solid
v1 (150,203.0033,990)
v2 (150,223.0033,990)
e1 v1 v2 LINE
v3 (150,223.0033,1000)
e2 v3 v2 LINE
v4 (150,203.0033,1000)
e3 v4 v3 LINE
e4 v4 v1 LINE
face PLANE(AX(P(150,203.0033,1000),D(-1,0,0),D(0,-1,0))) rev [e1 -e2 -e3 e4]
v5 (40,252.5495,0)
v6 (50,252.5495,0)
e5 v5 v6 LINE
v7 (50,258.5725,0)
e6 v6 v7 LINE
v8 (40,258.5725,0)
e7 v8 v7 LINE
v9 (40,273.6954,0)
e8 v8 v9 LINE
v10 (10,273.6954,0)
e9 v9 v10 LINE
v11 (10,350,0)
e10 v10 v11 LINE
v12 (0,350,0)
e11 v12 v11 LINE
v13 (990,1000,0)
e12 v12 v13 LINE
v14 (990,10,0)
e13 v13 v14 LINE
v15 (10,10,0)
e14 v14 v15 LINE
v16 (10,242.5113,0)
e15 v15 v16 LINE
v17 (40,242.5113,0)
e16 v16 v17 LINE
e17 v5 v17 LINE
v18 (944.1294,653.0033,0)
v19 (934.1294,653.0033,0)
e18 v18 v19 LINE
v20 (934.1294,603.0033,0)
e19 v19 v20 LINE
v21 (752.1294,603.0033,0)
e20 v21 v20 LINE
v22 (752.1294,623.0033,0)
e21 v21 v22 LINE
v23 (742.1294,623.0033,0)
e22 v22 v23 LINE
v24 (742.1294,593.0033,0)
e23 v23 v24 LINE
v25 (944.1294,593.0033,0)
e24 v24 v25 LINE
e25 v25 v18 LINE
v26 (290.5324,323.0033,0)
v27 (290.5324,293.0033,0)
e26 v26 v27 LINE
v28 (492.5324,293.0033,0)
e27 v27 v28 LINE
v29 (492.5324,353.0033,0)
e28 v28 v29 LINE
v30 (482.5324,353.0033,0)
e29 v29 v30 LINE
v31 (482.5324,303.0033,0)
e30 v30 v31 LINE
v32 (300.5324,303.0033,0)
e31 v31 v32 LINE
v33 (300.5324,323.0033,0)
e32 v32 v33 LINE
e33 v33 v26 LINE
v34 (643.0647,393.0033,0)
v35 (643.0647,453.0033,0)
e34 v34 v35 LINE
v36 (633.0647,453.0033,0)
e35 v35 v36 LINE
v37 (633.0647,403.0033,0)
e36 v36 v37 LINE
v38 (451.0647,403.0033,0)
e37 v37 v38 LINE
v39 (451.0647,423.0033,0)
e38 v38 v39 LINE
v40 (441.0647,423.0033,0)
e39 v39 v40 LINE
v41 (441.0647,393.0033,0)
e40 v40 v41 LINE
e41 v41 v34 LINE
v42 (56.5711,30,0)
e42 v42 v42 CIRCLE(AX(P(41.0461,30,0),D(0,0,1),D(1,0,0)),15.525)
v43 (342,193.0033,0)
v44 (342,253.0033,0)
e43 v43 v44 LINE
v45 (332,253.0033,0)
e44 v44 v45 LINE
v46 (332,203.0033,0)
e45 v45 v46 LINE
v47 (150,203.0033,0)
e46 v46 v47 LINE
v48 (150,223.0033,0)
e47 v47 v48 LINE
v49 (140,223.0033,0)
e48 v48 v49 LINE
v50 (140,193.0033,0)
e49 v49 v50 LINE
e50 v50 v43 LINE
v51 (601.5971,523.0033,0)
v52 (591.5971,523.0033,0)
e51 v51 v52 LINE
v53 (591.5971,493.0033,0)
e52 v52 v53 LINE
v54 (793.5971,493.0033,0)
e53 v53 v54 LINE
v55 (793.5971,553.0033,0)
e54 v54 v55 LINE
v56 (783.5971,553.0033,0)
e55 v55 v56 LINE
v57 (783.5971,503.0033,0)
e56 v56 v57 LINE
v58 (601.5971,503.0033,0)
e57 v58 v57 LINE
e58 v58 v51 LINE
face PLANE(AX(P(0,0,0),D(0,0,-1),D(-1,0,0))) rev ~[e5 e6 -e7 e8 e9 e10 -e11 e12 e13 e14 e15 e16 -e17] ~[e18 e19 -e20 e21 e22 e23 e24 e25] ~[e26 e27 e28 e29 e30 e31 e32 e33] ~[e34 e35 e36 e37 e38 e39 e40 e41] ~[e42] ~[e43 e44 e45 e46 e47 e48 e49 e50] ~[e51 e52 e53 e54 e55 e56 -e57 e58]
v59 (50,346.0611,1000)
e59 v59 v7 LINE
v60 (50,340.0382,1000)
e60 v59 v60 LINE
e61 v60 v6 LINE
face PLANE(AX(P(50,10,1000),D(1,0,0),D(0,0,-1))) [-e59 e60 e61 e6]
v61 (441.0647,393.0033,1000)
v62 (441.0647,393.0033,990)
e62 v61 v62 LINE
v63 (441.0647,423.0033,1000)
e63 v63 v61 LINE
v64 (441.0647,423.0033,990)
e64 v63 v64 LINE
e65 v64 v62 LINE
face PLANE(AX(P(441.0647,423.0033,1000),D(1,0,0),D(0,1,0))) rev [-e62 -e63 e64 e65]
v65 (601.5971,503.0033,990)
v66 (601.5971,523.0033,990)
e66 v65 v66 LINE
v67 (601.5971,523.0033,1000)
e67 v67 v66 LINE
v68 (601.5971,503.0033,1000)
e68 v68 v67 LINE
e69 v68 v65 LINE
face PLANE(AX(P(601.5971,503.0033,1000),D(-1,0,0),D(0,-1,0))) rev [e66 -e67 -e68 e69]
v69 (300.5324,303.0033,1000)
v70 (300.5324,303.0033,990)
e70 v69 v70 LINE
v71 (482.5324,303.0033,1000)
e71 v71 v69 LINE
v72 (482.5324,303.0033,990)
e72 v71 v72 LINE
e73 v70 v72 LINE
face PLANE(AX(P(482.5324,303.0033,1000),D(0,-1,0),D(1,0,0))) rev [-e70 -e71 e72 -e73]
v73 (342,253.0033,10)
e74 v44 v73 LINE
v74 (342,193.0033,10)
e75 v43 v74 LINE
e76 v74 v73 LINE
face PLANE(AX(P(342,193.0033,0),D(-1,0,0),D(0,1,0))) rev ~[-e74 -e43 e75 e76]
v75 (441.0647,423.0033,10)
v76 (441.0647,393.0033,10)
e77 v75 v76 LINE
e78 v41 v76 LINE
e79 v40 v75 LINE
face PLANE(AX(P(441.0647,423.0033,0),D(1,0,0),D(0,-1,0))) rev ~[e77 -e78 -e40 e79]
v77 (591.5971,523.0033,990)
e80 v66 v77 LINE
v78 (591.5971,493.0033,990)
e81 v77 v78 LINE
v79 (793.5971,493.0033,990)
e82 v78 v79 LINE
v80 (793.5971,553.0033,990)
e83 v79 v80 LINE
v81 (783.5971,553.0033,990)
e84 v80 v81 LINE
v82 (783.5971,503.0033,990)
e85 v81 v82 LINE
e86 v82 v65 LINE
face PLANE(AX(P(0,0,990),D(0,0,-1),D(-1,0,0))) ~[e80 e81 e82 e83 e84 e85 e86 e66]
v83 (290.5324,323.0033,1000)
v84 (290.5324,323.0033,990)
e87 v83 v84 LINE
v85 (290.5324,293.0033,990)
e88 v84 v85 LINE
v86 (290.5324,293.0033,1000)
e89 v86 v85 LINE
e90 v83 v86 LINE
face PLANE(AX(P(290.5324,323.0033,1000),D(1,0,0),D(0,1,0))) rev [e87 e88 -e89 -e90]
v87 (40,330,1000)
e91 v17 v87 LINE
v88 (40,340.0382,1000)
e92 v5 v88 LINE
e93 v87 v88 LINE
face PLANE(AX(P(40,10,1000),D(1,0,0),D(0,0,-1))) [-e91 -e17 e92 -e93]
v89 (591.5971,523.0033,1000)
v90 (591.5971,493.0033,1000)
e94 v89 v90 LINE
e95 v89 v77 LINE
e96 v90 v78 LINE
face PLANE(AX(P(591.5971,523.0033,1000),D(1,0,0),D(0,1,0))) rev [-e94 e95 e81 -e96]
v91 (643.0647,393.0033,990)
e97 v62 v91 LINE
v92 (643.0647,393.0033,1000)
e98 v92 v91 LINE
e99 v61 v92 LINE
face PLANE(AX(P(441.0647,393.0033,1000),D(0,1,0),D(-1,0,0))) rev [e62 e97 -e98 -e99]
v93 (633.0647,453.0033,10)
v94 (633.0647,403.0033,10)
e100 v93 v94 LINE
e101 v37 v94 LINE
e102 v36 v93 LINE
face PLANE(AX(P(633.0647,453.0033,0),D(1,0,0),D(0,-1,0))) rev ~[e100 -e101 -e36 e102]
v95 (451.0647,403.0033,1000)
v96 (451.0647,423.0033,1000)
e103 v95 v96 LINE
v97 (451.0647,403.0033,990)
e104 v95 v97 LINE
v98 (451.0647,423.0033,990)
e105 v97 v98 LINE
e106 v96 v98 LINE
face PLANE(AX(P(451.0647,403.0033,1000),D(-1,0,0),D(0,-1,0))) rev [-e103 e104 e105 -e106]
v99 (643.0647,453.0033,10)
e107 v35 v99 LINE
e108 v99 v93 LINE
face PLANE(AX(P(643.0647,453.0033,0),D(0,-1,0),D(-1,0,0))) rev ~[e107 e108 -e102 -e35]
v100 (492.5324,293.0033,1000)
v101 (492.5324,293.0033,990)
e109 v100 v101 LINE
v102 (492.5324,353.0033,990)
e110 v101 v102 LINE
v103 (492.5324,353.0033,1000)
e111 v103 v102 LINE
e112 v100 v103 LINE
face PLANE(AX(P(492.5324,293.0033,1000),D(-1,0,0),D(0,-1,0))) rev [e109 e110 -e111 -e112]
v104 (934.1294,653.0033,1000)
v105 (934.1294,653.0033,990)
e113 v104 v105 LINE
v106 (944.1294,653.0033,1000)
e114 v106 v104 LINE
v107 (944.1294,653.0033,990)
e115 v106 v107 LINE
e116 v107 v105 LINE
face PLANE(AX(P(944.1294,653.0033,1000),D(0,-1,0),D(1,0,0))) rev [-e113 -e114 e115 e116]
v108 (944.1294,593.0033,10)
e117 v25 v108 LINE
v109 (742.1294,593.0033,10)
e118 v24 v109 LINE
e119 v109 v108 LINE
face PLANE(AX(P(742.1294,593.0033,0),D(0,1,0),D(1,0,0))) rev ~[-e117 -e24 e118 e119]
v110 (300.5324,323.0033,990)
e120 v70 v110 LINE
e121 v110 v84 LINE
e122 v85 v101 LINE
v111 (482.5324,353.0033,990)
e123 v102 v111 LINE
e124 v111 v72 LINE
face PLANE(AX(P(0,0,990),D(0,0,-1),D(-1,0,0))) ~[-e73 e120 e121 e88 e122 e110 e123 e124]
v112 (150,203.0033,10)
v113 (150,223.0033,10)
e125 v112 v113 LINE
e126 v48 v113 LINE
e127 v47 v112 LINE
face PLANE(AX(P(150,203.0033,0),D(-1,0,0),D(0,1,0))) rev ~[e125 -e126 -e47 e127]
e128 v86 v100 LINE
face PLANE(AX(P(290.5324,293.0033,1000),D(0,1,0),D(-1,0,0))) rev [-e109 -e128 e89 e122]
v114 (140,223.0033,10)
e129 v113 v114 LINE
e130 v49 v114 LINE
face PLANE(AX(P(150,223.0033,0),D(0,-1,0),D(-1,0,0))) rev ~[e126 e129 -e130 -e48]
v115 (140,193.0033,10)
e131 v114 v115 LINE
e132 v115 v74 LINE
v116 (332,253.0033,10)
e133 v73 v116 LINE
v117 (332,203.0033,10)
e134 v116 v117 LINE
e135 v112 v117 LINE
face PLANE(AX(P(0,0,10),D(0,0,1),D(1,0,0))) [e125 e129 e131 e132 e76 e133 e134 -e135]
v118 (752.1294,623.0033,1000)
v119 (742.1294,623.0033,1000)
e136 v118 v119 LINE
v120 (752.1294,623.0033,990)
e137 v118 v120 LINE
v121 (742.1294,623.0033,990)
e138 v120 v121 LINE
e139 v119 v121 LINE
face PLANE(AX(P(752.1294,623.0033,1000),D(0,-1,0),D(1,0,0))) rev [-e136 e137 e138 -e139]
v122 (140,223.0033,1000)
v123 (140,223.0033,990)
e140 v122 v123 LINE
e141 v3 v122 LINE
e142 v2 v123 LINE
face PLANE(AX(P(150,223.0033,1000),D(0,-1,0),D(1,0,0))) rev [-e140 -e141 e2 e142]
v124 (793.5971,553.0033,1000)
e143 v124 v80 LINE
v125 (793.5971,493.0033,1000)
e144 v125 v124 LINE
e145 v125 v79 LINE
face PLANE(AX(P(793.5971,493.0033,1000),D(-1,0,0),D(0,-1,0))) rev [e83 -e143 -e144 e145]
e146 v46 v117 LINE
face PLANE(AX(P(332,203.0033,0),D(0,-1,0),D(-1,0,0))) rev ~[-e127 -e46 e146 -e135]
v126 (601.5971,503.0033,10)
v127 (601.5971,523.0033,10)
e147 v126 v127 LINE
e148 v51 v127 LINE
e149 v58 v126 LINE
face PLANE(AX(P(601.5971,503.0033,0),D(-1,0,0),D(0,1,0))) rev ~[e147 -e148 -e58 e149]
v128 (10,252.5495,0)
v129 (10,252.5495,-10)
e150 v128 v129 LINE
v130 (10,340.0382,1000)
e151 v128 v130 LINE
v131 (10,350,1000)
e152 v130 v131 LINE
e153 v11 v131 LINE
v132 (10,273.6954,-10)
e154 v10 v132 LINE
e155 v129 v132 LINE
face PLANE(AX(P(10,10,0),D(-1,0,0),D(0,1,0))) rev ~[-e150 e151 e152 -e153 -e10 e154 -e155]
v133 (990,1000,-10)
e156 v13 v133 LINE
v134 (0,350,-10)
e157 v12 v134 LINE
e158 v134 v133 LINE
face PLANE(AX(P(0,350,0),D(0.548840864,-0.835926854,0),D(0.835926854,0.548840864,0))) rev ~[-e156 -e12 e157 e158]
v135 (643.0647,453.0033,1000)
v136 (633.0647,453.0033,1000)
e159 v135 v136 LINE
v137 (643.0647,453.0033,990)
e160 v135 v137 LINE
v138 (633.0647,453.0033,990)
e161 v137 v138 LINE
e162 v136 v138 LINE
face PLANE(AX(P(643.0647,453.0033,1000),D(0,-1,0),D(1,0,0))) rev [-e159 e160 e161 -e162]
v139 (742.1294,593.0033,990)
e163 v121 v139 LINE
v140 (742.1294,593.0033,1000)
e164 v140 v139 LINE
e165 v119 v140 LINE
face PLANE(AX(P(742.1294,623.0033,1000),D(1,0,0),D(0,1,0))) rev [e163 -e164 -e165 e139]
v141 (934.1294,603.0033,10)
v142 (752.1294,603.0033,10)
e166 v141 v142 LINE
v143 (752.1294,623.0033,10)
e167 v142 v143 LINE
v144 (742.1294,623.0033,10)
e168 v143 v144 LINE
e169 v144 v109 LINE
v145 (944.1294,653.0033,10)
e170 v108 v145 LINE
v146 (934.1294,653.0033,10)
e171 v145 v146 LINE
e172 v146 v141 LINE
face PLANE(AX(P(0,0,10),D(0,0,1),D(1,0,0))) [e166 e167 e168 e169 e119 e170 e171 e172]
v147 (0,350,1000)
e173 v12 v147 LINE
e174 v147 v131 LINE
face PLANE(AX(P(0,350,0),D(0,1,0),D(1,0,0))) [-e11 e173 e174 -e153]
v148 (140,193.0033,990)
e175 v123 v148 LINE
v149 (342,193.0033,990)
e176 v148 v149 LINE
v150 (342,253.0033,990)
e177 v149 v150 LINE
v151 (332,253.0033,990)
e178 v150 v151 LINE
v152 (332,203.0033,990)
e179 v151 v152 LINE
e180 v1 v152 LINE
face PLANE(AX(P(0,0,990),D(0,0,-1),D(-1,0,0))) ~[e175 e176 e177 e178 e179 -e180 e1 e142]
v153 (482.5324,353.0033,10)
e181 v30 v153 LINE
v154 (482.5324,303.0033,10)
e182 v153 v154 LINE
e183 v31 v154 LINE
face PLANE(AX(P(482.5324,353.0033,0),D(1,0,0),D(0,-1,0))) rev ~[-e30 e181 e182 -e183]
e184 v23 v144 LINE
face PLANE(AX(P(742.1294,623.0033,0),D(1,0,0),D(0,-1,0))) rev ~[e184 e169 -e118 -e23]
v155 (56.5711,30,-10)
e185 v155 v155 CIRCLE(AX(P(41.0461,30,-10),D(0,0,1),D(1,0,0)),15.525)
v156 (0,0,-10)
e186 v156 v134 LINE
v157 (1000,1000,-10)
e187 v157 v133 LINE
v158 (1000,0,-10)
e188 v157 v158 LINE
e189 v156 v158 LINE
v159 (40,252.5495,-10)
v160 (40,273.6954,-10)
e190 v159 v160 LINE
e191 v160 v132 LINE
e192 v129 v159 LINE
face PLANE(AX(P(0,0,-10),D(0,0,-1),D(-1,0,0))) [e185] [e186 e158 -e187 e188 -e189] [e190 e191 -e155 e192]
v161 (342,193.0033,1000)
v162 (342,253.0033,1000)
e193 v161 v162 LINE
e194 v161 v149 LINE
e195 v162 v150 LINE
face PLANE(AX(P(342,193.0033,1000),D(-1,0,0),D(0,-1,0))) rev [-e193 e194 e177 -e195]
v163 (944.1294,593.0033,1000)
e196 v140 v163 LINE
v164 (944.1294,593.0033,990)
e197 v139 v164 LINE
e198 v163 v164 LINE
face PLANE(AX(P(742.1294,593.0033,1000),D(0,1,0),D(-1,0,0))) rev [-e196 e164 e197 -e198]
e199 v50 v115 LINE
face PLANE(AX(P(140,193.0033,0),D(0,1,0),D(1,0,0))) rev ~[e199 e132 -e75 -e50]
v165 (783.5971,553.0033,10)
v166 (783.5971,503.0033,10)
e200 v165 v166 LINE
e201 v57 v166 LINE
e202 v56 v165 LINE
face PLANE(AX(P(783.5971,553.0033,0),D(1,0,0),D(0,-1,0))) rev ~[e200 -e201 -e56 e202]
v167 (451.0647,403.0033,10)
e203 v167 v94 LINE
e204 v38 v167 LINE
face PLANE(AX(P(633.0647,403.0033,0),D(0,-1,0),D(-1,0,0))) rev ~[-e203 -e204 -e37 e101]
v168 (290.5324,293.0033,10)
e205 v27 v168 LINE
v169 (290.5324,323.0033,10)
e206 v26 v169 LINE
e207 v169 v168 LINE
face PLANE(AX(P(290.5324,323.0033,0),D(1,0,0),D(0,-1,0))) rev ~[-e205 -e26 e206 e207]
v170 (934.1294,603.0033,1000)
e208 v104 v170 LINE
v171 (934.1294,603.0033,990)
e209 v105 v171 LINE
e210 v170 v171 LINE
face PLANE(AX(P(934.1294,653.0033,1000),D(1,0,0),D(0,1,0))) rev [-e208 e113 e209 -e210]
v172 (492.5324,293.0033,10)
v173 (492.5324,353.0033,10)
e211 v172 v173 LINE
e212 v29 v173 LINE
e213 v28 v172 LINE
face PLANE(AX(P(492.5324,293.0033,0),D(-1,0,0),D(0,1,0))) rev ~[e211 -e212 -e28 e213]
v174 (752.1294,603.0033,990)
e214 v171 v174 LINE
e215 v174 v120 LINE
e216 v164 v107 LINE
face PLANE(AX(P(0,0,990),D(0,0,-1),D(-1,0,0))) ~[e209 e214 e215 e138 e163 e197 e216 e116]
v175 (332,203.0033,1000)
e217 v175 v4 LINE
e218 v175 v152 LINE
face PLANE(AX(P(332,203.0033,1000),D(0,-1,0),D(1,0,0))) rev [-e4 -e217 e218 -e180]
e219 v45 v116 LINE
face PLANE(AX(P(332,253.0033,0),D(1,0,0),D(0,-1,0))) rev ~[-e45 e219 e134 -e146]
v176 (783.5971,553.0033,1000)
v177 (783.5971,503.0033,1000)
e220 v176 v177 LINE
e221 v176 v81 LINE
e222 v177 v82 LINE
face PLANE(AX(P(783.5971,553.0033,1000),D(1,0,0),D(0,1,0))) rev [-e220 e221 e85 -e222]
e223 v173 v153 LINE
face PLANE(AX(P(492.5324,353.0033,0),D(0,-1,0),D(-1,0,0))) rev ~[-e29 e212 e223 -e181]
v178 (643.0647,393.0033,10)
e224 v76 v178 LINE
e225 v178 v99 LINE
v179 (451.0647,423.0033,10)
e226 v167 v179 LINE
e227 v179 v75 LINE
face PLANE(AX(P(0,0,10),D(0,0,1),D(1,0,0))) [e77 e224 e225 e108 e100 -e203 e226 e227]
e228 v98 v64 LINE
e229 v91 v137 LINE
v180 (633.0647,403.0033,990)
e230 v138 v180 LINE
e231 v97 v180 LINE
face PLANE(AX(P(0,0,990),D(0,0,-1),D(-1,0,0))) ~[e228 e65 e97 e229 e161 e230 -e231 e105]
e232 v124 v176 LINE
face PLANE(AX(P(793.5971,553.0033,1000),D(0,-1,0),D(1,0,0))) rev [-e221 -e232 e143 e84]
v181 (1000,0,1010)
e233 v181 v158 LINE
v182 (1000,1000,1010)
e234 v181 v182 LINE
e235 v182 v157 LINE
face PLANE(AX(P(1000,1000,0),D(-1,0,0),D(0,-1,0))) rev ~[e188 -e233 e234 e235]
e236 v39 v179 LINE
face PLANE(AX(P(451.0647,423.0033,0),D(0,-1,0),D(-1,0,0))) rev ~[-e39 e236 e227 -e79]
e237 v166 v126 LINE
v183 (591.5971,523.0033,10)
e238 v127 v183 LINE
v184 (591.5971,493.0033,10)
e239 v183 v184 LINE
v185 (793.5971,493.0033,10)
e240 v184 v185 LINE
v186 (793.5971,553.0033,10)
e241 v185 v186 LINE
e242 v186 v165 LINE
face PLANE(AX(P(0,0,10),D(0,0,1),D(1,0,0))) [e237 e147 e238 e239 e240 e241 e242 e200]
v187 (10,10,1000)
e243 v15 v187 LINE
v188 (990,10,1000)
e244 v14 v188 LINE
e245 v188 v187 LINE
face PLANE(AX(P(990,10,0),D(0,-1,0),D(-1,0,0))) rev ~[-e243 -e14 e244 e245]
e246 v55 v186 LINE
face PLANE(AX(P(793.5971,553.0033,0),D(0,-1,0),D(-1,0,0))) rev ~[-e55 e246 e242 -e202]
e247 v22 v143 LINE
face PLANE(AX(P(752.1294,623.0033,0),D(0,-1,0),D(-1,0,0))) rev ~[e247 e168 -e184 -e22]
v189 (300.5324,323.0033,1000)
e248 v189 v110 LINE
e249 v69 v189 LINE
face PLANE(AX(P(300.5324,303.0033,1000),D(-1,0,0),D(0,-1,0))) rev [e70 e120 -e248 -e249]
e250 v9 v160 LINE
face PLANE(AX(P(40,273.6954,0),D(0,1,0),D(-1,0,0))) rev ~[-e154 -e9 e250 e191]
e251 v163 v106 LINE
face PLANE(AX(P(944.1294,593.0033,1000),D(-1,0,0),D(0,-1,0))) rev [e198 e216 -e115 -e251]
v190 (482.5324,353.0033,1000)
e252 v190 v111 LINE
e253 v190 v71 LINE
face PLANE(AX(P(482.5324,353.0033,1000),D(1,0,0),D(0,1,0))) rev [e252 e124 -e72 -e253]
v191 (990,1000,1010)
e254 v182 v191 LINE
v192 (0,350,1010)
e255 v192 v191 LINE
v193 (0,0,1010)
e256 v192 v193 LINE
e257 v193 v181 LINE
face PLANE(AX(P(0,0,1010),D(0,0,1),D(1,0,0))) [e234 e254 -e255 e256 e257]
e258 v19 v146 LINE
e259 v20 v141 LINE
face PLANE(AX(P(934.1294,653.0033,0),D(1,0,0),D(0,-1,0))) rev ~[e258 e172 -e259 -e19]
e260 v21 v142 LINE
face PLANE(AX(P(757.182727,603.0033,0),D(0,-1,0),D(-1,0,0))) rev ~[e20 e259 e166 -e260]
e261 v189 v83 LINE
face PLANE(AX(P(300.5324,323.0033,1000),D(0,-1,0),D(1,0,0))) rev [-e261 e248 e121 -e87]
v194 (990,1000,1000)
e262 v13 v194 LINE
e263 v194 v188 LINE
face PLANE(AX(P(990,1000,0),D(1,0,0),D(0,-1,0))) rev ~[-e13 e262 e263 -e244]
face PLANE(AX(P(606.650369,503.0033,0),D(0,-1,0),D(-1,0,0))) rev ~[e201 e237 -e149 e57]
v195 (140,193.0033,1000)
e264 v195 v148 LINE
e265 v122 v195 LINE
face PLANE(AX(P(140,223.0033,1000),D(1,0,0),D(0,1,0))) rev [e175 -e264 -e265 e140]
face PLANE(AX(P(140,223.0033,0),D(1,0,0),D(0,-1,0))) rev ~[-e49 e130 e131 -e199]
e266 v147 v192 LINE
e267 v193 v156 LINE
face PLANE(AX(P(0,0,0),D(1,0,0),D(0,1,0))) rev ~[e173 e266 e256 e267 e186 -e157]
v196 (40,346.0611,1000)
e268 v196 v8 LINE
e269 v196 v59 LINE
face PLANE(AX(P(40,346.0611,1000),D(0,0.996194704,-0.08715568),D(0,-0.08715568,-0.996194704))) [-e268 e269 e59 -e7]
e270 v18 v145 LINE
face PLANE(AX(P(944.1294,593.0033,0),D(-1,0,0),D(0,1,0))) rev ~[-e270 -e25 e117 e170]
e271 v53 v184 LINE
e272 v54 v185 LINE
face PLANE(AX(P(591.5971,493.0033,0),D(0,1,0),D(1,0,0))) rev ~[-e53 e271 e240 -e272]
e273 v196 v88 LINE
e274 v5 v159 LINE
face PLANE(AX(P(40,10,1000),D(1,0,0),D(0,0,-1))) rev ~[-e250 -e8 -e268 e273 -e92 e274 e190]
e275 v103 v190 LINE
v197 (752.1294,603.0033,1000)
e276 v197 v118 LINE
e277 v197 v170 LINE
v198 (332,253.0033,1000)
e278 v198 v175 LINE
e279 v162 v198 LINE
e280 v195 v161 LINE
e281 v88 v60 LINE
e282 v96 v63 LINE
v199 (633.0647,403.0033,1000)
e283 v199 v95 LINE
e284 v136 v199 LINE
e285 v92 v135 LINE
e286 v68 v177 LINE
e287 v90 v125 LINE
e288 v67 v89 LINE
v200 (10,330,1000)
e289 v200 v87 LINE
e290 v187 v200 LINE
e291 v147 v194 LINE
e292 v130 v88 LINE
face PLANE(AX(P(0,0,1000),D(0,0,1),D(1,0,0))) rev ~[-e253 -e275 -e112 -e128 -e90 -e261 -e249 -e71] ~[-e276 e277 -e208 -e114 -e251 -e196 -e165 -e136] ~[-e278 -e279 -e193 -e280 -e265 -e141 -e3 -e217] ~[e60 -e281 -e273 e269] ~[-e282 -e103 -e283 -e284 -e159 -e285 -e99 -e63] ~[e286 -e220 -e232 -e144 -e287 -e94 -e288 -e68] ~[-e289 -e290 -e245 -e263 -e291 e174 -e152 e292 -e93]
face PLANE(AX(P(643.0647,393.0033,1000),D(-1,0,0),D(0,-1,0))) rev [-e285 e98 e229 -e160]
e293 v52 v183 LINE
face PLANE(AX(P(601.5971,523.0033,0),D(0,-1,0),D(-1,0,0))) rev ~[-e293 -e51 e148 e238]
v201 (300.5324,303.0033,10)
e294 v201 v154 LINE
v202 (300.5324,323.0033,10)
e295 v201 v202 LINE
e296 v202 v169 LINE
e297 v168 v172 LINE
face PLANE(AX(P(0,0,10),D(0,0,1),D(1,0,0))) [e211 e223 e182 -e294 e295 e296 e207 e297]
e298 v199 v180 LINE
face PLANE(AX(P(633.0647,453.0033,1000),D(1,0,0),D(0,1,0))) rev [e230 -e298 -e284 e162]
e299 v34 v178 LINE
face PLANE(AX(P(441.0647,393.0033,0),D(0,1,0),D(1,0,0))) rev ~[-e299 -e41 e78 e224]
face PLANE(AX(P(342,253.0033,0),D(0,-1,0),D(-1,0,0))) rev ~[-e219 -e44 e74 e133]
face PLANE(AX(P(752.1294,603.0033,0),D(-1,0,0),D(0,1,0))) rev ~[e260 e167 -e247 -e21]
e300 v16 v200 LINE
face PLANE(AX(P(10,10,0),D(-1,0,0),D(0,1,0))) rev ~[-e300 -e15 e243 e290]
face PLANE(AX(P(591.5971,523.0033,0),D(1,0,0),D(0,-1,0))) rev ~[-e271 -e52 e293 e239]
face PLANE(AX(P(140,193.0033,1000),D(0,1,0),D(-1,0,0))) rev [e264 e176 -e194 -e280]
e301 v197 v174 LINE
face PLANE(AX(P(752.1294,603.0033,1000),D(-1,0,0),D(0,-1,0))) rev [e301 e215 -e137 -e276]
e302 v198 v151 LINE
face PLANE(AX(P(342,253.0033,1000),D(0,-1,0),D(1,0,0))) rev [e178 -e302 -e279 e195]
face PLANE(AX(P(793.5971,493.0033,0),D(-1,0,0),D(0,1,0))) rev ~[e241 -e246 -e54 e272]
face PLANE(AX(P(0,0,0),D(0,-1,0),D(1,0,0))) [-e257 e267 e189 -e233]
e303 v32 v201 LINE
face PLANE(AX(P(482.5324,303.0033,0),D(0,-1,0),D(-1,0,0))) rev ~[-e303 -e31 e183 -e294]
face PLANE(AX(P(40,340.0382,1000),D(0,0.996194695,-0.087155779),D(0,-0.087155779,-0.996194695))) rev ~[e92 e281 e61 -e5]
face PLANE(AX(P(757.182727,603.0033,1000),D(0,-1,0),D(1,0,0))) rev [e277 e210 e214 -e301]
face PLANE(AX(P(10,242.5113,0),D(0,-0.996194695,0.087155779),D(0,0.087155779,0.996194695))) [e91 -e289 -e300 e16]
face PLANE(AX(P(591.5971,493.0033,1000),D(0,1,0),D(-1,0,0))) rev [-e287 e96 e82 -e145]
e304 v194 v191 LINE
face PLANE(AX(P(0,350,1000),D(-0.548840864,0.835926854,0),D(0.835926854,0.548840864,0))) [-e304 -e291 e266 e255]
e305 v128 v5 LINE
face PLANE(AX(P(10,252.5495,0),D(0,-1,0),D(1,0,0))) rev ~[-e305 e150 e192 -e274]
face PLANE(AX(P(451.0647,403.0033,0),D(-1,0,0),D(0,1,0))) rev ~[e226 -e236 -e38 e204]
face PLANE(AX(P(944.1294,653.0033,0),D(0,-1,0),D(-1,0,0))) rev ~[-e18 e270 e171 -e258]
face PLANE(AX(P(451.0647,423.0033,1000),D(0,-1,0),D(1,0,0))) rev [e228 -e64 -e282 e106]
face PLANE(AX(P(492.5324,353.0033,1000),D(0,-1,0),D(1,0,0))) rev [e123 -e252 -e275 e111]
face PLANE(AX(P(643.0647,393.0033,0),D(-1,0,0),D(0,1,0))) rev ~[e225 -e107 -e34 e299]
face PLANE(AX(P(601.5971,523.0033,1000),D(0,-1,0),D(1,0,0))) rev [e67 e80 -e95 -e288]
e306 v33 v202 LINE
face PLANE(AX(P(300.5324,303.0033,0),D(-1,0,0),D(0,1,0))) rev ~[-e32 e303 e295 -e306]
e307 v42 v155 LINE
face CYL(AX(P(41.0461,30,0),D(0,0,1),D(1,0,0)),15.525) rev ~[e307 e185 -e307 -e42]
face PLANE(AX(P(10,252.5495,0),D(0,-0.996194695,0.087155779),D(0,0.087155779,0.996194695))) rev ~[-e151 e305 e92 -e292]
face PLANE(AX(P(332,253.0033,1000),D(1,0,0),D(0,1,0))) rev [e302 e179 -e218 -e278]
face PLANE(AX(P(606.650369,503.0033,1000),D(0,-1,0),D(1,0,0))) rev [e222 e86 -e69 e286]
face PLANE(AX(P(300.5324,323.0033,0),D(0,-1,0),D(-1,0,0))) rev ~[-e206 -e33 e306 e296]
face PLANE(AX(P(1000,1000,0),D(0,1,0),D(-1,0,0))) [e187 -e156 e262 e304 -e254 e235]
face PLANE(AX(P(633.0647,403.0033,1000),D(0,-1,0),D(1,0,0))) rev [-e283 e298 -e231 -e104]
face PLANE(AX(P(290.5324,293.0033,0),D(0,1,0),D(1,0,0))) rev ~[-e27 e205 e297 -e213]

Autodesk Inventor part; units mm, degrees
ref_plane "YZ Plane" through (0, 0, 0) normal (1, 0, 0) x (0, 1, 0)
ref_plane "XZ Plane" through (0, 0, 0) normal (0, 1, 0) x (-1, 0, 0)
sketch "Esboço1" plane through (0, 0, 0) normal (0, 0, 1) x (1, 0, 0)
  line L0 (0, 0) -> (1000, 0)
  line L1 (1000, 0) -> (1000, 1000)
  line L2 (0, 0) -> (0, 350)
  line L3 (990, 1000) -> (990, 10)
  line L4 (990, 10) -> (10, 10)
  line L5 (10, 10) -> (10, 350)
  line L6 (0, 350) -> (10, 350)
  line L7 (990, 1000) -> (1000, 1000)
  line L8 (0, 350) -> (10, 350)
  line L9 (990, 1000) -> (1000, 1000)
  dimension "d6" = 1000
  dimension "d7" = 1000
  dimension "d8" = 350
  dimension "d10" = 10
extrude "Extrusão1" add sketch "Esboço1" along normal blind 1000
sketch "Esboço2" plane through (0, 0, 1000) normal (0, 0, 1) x (1, 0, 0)
  line L0 (10, 10) -> (10, 350) projected
  line L1 (0, 350) -> (0, 0) projected
  line L2 (1000, 1000) -> (990, 1000) projected
  line L3 (0, 350) -> (990, 1000)
  line L4 (0, 0) -> (1000, 0) projected
  line L5 (1000, 0) -> (1000, 1000) projected
  line L6 (0, 350) -> (0, 0)
  line L7 (1000, 0) -> (1000, 1000)
  line L8 (990, 1000) -> (1000, 1000)
extrude "Extrusão2" add sketch "Esboço2" along normal blind 10
sketch "Esboço3" plane through (0, 0, 0) normal (0, 0, -1) x (-1, 0, 0)
  line L0 (-10, 350) -> (0, 350) projected
  line L1 (-1000, 1000) -> (-990, 1000) projected
  line L2 (0, 350) -> (-990, 1000)
  line L3 (-990, 1000) -> (-1000, 1000)
  line L4 (-1000, 1000) -> (-1000, 0)
  line L5 (0, 0) -> (-1000, 0) projected
  line L6 (-1000, 0) -> (0, 0)
  line L7 (0, 0) -> (0, 350)
extrude "Extrusão3" add sketch "Esboço3" along normal blind 10
sketch "Esboço4" plane through (10, 10, 1000) normal (1, 0, 0) x (0, 0, -1)
  line L0 (1000, 990) -> (1000, 0) projected
  line L1 (1000, 232.5113) -> (0, 320)
  line L2 (0, 0) -> (0, 340) projected
  line L3 (0, 340) -> (-10, 340) projected
  line L4 (1000, 242.5495) -> (0, 330.0382)
  line L5 (1000, 232.5113) -> (1000, 242.5495)
  line L6 (1000, 0) -> (1000, 340) projected
  line L7 (0, 330.0382) -> (0, 320)
  point P0 (1000, -10)
  dimension "d11" = 85
  dimension "d13" = 20
  dimension "d14" = 10
extrude "Extrusão4" add sketch "Esboço4" along normal blind 30
sketch "Esboço5" plane through (40, 10, 1000) normal (1, 0, 0) x (0, 0, -1)
  line L0 (1000, 232.5113) -> (0, 320) projected
  line L1 (1000, 232.5113) -> (0, 320)
  line L2 (0, 336.0611) -> (1000, 248.5725)
  line L3 (1000, 242.5495) -> (1000, 340) projected
  line L4 (1000, 248.5725) -> (1000, 242.5495)
  line L5 (0, 336.0611) -> (0, 320)
  line L6 (0, 330.0382) -> (0, 340) projected
  line L7 (1000, 0) -> (1000, 232.5113) projected
  line L8 (1000, 232.5113) -> (0, 320)
  line L9 (0, 330.0382) -> (1000, 242.5495) projected
  point P0 (1000, -10)
  dimension "d18" = 6
extrude "Extrusão5" add sketch "Esboço5" along normal blind 10
sketch "Esboço6" plane through (0, 0, 0) normal (0, 0, 1) x (1, 0, 0)
  line L0 (10, 252.5495) -> (10, 350) projected
  line L1 (10, 252.5495) -> (40, 252.5495)
  line L2 (40, 252.5495) -> (40, 273.6954)
  line L3 (40, 273.6954) -> (10, 273.6954)
  line L4 (10, 273.6954) -> (10, 252.5495)
  point P0 (0, 0)
extrude "Extrusão6" cut sketch "Esboço6" against normal blind 10
sketch "Esboço7" plane through (0, 0, 0) normal (0, 0, 1) x (1, 0, 0)
  line L0 (0, 350) -> (990, 1000) projected
  line L1 (591.5971, 523.0033) -> (591.5971, 493.0033)
  line L2 (591.5971, 493.0033) -> (793.5971, 493.0033)
  line L3 (793.5971, 493.0033) -> (793.5971, 553.0033)
  line L4 (793.5971, 553.0033) -> (783.5971, 553.0033)
  line L5 (783.5971, 553.0033) -> (783.5971, 503.0033)
  line L6 (783.5971, 503.0033) -> (601.5971, 503.0033)
  line L7 (601.5971, 503.0033) -> (601.5971, 523.0033)
  line L8 (601.5971, 523.0033) -> (591.5971, 523.0033)
  line L9 (0, 0) -> (0, 350) projected
  line L10 (441.0647, 423.0033) -> (441.0647, 393.0033)
  line L11 (441.0647, 393.0033) -> (643.0647, 393.0033)
  line L12 (643.0647, 393.0033) -> (643.0647, 453.0033)
  line L13 (643.0647, 453.0033) -> (633.0647, 453.0033)
  line L14 (633.0647, 453.0033) -> (633.0647, 403.0033)
  line L15 (633.0647, 403.0033) -> (451.0647, 403.0033)
  line L16 (451.0647, 403.0033) -> (451.0647, 423.0033)
  line L17 (451.0647, 423.0033) -> (441.0647, 423.0033)
  line L18 (290.5324, 323.0033) -> (290.5324, 293.0033)
  line L19 (290.5324, 293.0033) -> (492.5324, 293.0033)
  line L20 (492.5324, 293.0033) -> (492.5324, 353.0033)
  line L21 (492.5324, 353.0033) -> (482.5324, 353.0033)
  line L22 (482.5324, 353.0033) -> (482.5324, 303.0033)
  line L23 (482.5324, 303.0033) -> (300.5324, 303.0033)
  line L24 (300.5324, 303.0033) -> (300.5324, 323.0033)
  line L25 (300.5324, 323.0033) -> (290.5324, 323.0033)
  line L26 (140, 223.0033) -> (140, 193.0033)
  line L27 (140, 193.0033) -> (342, 193.0033)
  line L28 (342, 193.0033) -> (342, 253.0033)
  line L29 (342, 253.0033) -> (332, 253.0033)
  line L30 (332, 253.0033) -> (332, 203.0033)
  line L31 (332, 203.0033) -> (150, 203.0033)
  line L32 (150, 203.0033) -> (150, 223.0033)
  line L33 (150, 223.0033) -> (140, 223.0033)
  line L34 (0, 100) -> (1000, 764.309)
  line L35 (1000, 1000) -> (1000, 0) projected
  line L36 (742.1294, 623.0033) -> (742.1294, 593.0033)
  line L37 (742.1294, 593.0033) -> (944.1294, 593.0033)
  line L38 (944.1294, 593.0033) -> (944.1294, 653.0033)
  line L39 (944.1294, 653.0033) -> (934.1294, 653.0033)
  line L40 (934.1294, 653.0033) -> (934.1294, 603.0033)
  line L41 (934.1294, 603.0033) -> (752.1294, 603.0033)
  line L42 (752.1294, 603.0033) -> (752.1294, 623.0033)
  line L43 (752.1294, 623.0033) -> (742.1294, 623.0033)
  dimension "d23" = 202
  dimension "d24" = 10
  dimension "d25" = 10
  dimension "d26" = 10
  dimension "d27" = 30
  dimension "d28" = 60
  dimension "d35" = 202
  dimension "d36" = 10
  dimension "d37" = 10
  dimension "d38" = 10
  dimension "d39" = 30
  dimension "d40" = 60
  dimension "d41" = 202
  dimension "d42" = 10
  dimension "d43" = 10
  dimension "d44" = 10
  dimension "d45" = 30
  dimension "d46" = 60
  dimension "d47" = 202
  dimension "d48" = 10
  dimension "d49" = 10
  dimension "d50" = 10
  dimension "d51" = 30
  dimension "d52" = 60
  dimension "d53" = 100
  dimension "d54" = 202
  dimension "d55" = 10
  dimension "d56" = 10
  dimension "d57" = 10
  dimension "d58" = 30
  dimension "d59" = 60
  dimension "d60" = 90
  dimension "d61" = 90
  dimension "d62" = 90
  dimension "d63" = 90
  dimension "d64" = 764.309
  dimension "d65" = 140
extrude "Extrusão7" add sketch "Esboço7" along normal blind 10
ref_plane "Plano de trabalho1" through (0, 0, 500) normal (0, 0, 1) x (1, 0, 0)
mirror "Espelhamento1" about plane through (0, 0, 500) normal (0, 0, 1) of "Extrusão7"
sketch "Esboço8" plane through (0, 0, 0) normal (0, 0, 1) x (1, 0, 0)
  circle A0 centre (41.0461, 30) radius 15.525
  line L0 (990, 10) -> (10, 10) projected
  point P0 (0, 0)
  dimension "d68" = 31.05
  dimension "d69" = 20
extrude "Extrusão8" cut sketch "Esboço8" against normal blind 10
properties part number "caixa" material "Polipropileno"
